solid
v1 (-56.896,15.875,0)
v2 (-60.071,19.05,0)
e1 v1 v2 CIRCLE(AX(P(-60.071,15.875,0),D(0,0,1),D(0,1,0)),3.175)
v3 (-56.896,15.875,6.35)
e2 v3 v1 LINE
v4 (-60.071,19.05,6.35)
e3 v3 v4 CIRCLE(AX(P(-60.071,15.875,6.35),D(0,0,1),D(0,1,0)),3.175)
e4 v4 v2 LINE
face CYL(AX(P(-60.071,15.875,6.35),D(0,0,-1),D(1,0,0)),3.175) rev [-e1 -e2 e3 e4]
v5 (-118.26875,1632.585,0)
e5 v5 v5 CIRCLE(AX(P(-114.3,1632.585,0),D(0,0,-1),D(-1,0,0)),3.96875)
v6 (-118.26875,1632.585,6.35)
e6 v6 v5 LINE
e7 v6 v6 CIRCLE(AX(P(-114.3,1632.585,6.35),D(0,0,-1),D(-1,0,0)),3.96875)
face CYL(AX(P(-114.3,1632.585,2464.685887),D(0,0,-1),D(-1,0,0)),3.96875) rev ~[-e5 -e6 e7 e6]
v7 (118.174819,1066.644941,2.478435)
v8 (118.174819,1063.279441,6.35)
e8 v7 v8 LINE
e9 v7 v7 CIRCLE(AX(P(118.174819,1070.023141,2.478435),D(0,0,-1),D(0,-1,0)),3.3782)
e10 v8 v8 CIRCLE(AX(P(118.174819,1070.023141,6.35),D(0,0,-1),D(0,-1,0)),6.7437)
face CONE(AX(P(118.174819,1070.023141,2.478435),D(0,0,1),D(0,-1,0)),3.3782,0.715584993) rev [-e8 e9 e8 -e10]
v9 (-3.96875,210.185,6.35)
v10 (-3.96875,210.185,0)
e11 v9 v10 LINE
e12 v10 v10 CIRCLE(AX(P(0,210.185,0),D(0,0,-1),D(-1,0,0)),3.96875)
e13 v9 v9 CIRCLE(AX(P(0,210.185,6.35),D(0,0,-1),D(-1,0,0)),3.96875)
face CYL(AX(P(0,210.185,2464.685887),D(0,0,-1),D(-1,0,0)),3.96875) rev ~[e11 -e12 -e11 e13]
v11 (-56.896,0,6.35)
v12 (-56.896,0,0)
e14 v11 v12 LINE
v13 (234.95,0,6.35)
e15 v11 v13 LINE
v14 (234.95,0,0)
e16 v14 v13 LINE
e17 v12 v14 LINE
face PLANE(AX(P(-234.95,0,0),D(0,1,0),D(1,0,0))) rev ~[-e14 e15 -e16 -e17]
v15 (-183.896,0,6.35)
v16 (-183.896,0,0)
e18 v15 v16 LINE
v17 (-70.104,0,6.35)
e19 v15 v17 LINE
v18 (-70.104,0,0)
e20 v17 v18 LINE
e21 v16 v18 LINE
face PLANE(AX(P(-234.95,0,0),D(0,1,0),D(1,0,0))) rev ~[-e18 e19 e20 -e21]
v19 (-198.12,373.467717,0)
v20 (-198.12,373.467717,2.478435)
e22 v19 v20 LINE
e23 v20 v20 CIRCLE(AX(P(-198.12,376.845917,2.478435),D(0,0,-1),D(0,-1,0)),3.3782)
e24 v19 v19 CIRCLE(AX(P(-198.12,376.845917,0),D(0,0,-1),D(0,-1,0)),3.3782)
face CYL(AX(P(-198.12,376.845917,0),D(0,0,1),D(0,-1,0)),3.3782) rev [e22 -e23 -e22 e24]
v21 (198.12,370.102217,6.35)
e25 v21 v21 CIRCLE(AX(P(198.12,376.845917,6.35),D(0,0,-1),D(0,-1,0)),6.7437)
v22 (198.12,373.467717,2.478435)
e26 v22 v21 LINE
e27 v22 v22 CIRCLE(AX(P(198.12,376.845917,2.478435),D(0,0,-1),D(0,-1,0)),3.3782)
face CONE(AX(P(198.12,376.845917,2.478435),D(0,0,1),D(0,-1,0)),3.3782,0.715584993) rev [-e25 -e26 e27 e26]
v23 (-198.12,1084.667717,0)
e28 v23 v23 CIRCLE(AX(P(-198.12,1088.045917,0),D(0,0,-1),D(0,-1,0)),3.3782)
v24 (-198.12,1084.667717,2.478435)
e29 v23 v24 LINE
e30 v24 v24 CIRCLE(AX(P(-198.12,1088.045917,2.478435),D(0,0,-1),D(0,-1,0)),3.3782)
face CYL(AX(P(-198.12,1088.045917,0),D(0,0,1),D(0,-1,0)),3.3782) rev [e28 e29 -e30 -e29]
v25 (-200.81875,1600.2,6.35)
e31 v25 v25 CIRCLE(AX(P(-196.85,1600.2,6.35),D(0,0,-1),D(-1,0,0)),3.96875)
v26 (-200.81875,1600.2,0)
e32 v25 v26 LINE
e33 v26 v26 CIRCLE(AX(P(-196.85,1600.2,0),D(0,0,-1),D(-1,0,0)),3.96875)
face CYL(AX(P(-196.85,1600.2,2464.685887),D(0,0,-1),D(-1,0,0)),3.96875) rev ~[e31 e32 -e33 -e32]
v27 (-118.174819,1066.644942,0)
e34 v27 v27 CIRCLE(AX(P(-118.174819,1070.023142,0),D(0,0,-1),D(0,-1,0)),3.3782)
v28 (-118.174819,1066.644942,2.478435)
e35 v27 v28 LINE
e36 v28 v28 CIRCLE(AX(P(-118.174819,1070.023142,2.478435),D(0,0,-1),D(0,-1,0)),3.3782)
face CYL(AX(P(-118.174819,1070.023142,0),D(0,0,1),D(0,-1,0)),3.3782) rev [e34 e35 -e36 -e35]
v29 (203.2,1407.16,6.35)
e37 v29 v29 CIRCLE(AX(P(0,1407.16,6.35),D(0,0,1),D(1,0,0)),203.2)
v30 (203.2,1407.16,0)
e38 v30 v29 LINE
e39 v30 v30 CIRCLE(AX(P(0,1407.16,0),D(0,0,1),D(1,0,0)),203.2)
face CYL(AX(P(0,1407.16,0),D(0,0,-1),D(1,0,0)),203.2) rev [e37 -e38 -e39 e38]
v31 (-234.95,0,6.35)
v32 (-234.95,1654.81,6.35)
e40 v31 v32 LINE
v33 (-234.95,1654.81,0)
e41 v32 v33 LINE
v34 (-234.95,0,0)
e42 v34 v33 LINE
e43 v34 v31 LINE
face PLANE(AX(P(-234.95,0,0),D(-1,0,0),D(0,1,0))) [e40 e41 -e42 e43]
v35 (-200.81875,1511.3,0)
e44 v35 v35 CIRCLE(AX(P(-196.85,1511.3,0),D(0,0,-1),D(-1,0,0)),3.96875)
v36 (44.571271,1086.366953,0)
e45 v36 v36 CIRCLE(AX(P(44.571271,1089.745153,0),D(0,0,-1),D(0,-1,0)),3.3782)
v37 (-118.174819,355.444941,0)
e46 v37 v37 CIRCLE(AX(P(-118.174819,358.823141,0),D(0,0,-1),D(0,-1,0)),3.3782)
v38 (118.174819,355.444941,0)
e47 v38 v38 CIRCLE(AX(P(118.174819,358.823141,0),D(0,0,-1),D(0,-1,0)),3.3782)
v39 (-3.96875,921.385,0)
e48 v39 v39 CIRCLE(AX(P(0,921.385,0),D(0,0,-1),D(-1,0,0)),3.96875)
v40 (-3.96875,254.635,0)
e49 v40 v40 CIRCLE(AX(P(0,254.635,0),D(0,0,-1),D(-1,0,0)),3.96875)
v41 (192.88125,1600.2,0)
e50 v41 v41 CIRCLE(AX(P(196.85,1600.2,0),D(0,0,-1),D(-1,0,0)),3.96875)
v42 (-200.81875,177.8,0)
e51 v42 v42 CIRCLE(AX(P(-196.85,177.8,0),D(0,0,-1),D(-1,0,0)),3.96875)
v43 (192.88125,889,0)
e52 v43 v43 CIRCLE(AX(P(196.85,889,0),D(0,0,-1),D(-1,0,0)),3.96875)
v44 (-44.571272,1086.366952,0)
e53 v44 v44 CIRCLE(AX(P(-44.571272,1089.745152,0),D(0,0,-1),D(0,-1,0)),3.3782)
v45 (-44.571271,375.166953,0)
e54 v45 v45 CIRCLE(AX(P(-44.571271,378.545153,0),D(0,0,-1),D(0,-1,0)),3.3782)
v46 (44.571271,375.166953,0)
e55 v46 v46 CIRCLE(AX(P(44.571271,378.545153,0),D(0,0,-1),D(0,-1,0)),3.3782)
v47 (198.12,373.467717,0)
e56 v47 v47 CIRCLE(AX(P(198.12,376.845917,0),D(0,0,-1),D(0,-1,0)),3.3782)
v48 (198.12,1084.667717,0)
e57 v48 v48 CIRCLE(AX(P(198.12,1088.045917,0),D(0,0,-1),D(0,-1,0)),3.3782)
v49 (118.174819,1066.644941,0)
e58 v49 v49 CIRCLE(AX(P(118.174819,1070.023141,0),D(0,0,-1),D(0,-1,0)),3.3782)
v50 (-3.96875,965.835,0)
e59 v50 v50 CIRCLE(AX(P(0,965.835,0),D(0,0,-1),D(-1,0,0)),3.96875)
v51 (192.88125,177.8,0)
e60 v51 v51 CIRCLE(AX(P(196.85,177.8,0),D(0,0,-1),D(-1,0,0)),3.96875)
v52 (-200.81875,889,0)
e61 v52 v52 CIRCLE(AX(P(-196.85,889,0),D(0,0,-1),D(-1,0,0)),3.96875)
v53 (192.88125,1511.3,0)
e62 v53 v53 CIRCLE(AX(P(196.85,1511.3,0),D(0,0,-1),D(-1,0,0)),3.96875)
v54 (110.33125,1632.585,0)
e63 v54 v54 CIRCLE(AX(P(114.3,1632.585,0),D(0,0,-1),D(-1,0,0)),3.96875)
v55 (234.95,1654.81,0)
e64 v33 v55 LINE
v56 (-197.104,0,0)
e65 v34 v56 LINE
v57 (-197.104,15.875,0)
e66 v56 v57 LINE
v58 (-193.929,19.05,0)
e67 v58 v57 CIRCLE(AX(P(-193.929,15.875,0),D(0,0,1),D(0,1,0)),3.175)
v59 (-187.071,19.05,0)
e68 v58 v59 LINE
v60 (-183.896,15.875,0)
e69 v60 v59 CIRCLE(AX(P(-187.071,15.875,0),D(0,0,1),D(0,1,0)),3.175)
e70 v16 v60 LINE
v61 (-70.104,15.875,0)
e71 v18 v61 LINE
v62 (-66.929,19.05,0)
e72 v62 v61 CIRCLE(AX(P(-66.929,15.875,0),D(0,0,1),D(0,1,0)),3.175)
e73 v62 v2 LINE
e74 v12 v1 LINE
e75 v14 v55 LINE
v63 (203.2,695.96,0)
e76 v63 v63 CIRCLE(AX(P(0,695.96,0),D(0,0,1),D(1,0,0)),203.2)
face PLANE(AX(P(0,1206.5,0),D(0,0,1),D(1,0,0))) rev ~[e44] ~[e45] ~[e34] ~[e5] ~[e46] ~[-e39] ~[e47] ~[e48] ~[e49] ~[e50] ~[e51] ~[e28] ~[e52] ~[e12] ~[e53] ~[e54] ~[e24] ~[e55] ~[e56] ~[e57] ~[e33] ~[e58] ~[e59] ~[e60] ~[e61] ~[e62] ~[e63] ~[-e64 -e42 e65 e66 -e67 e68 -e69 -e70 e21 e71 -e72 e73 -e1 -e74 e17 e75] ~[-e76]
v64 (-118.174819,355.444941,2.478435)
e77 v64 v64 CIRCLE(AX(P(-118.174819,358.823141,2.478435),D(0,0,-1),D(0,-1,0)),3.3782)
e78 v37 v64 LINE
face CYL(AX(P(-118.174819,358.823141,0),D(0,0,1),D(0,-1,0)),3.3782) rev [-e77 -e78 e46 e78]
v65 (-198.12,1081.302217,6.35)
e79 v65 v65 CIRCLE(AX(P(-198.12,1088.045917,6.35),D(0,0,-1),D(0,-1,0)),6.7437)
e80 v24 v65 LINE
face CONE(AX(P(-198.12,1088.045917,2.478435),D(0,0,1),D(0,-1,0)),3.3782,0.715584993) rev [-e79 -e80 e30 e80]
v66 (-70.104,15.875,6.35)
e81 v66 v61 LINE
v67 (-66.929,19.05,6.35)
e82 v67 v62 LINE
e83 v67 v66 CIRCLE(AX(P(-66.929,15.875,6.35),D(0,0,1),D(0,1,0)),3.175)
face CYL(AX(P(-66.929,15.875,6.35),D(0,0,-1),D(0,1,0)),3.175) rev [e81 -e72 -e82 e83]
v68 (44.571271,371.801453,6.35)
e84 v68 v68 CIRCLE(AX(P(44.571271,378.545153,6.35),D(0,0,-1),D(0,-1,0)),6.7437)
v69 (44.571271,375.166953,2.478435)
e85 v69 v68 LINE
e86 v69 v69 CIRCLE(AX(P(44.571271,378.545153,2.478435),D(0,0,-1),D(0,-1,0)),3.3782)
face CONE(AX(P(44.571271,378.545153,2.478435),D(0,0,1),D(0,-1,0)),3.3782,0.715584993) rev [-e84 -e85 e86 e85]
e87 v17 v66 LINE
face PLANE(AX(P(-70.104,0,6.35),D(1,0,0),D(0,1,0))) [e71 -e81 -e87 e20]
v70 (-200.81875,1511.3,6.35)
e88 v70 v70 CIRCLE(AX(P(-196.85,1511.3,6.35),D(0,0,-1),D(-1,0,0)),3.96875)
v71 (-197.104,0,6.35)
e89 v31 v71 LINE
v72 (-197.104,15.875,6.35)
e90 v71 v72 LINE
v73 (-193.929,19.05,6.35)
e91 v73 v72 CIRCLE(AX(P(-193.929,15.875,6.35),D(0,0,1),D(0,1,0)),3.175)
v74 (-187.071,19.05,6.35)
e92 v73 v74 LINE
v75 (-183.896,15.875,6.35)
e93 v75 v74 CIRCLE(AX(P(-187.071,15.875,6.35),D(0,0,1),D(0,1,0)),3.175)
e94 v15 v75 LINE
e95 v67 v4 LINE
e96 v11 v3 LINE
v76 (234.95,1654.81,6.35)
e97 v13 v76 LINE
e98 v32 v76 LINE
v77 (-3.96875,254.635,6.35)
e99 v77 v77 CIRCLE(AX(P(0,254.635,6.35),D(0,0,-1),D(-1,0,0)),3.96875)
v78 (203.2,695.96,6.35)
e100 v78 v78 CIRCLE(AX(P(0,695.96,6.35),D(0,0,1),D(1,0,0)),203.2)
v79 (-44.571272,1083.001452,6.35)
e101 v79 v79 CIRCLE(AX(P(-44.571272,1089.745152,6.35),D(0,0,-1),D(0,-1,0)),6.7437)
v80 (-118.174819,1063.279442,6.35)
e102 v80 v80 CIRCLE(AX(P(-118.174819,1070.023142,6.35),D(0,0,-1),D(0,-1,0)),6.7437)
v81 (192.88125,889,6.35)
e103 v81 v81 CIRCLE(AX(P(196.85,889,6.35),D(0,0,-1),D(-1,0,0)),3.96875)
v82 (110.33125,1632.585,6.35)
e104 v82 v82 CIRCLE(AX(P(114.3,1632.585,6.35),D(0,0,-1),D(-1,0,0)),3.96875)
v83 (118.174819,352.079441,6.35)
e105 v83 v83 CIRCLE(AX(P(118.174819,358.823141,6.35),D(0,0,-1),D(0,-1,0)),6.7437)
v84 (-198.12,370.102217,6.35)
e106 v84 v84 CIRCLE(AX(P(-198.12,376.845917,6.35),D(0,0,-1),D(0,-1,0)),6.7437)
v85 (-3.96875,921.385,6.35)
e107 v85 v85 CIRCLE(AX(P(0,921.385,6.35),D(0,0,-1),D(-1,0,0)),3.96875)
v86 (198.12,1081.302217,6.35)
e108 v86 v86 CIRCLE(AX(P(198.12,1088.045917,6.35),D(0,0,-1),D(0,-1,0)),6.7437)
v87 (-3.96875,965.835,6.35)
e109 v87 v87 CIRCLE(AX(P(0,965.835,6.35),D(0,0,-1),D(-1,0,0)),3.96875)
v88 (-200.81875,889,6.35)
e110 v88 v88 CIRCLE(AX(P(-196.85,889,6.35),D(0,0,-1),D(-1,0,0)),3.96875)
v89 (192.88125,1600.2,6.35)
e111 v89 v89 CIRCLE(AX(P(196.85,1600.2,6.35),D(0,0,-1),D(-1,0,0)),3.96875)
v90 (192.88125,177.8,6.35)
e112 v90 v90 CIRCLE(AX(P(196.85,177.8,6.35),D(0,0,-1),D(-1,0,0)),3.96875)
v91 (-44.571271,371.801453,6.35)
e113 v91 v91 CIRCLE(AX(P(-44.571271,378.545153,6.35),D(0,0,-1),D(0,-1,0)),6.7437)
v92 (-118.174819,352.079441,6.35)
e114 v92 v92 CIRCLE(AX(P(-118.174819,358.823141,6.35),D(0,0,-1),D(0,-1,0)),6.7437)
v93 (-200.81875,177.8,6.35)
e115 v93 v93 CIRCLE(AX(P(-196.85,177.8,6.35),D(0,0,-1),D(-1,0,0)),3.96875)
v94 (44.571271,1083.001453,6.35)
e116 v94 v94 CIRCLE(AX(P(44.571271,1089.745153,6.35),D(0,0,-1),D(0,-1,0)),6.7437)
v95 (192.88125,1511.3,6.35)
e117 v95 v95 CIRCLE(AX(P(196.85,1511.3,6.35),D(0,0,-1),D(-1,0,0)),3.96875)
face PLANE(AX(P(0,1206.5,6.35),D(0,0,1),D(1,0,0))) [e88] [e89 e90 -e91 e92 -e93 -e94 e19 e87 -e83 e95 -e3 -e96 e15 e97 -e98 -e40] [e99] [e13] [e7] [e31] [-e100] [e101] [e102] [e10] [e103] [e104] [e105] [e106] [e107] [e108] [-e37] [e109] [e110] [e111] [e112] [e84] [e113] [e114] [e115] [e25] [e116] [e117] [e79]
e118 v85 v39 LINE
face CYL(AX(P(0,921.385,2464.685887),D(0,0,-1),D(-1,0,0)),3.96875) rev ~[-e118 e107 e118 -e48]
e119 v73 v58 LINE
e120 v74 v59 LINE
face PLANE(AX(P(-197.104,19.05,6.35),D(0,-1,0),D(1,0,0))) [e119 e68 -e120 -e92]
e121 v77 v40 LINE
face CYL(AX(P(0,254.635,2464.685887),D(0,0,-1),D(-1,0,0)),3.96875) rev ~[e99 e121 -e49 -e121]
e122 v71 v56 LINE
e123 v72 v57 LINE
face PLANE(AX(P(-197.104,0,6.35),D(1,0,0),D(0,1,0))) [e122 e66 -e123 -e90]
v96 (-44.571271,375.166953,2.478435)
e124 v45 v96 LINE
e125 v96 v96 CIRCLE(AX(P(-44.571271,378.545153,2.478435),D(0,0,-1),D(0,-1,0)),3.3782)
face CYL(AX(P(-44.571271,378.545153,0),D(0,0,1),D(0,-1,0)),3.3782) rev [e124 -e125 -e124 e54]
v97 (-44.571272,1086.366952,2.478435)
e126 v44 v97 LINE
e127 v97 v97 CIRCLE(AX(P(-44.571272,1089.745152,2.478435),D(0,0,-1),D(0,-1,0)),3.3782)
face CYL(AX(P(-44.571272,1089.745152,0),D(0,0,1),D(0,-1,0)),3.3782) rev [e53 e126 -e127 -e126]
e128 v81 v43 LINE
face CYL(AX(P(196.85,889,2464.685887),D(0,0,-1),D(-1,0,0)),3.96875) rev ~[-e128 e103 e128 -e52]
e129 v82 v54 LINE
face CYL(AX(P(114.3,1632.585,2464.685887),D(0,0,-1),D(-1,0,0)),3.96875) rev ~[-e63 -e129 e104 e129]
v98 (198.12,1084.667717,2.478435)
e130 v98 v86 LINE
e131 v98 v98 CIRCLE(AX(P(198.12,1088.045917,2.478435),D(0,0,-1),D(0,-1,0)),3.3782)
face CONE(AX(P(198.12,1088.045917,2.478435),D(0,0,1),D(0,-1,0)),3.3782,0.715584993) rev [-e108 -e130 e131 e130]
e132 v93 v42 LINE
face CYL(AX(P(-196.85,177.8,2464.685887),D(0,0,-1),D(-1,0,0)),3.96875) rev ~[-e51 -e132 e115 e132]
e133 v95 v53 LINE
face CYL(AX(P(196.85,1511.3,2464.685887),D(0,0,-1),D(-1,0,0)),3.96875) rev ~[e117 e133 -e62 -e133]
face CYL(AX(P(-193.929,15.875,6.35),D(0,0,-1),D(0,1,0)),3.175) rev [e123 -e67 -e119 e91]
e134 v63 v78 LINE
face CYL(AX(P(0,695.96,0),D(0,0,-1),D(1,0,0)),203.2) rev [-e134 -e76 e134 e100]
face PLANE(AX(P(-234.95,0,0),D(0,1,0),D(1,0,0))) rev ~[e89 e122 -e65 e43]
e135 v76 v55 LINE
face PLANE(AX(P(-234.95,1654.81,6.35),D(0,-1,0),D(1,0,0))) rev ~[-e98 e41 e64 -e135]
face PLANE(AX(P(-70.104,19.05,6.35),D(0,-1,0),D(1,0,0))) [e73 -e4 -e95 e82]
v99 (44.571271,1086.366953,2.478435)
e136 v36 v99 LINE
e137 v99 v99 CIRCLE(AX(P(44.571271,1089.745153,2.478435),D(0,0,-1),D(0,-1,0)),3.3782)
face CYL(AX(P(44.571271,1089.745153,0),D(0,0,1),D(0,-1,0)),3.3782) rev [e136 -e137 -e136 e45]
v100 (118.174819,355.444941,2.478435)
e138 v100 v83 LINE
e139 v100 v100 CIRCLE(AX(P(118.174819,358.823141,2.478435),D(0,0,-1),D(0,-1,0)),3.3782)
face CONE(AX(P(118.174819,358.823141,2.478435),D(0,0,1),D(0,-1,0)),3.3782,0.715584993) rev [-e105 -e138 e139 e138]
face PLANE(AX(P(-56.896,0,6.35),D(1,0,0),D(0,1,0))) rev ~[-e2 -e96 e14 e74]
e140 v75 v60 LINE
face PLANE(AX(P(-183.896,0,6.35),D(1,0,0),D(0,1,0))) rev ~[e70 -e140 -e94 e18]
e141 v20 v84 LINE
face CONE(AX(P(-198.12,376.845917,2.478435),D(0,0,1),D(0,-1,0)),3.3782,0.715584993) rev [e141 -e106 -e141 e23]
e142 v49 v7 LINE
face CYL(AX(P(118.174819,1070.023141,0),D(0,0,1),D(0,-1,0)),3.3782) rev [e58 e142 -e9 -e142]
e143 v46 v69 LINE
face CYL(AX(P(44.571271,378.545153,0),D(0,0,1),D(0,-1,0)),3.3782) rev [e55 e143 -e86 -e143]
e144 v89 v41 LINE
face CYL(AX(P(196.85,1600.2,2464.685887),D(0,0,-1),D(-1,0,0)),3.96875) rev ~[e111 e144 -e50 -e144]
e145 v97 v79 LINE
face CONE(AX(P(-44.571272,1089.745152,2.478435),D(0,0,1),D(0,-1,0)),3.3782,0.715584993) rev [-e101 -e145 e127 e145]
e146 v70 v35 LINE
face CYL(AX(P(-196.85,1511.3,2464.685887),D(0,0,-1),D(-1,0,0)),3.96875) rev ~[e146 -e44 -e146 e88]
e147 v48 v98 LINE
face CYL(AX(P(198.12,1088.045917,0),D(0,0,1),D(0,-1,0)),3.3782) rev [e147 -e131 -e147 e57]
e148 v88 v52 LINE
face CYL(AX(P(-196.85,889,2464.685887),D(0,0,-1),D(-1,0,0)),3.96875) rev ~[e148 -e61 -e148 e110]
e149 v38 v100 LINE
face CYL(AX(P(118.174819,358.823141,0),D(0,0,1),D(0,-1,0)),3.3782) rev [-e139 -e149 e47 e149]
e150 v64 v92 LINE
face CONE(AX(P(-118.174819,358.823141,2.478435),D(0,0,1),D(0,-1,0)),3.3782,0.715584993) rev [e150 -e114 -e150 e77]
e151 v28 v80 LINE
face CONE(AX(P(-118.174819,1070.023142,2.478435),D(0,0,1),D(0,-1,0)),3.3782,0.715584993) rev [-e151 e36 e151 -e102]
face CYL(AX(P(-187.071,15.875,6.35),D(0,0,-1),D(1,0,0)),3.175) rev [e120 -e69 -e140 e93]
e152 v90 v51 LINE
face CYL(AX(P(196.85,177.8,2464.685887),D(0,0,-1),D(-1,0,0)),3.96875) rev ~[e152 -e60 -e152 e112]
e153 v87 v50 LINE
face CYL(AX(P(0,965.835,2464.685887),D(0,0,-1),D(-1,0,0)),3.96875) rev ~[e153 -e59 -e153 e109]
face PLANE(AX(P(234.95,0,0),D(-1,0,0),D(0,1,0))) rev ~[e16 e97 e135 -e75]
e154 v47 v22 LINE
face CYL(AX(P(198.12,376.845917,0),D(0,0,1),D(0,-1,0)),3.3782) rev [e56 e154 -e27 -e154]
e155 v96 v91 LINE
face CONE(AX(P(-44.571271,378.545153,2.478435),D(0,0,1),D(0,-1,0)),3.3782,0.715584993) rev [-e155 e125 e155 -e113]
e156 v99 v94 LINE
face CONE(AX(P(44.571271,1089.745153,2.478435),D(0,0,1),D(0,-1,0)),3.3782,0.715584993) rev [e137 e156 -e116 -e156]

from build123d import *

# Parameters (mm, degrees)
SKETCH1_W                                     = 469.9
SKETCH1_H                                     = 2413
SKETCH1_R                                     = 203.2
BOSS_EXTRUDE1_DEPTH                           = 6.35
CSK_FOR_1_4_FLAT_HEAD_SOCKET_CAP_SCR_2_COUNT  = 2
CSK_FOR_1_4_FLAT_HEAD_SOCKET_CAP_SCR_2_PITCH  = 76.2
CSK_FOR_1_4_FLAT_HEAD_SOCKET_CAP_SCR_3_COUNT  = 2
CSK_FOR_1_4_FLAT_HEAD_SOCKET_CAP_SCR_3_PITCH  = 89.142542345
CSK_FOR_1_4_FLAT_HEAD_SOCKET_CAP_SCR_4_COUNT  = 2
CSK_FOR_1_4_FLAT_HEAD_SOCKET_CAP_SCR_4_PITCH  = 163.936718394
CSK_FOR_1_4_FLAT_HEAD_SOCKET_CAP_SCR_5_COUNT  = 2
CSK_FOR_1_4_FLAT_HEAD_SOCKET_CAP_SCR_5_PITCH  = 711.2
CSK_FOR_1_4_FLAT_HEAD_SOCKET_CAP_SCR_6_COUNT  = 2
CSK_FOR_1_4_FLAT_HEAD_SOCKET_CAP_SCR_6_PITCH  = 695.384275934
CSK_FOR_1_4_FLAT_HEAD_SOCKET_CAP_SCR_7_COUNT  = 2
CSK_FOR_1_4_FLAT_HEAD_SOCKET_CAP_SCR_7_PITCH  = 716.764837904
CSK_FOR_1_4_FLAT_HEAD_SOCKET_CAP_SCR_8_COUNT  = 2
CSK_FOR_1_4_FLAT_HEAD_SOCKET_CAP_SCR_8_PITCH  = 710.371803251
CSK_FOR_1_4_FLAT_HEAD_SOCKET_CAP_SCR_9_COUNT  = 2
CSK_FOR_1_4_FLAT_HEAD_SOCKET_CAP_SCR_9_PITCH  = 1422.4
CSK_FOR_1_4_FLAT_HEAD_SOCKET_CAP_SCR_10_COUNT = 2
CSK_FOR_1_4_FLAT_HEAD_SOCKET_CAP_SCR_10_PITCH = 1404.60778242
CSK_FOR_1_4_FLAT_HEAD_SOCKET_CAP_SCR_11_COUNT = 2
CSK_FOR_1_4_FLAT_HEAD_SOCKET_CAP_SCR_11_PITCH = 1425.190567207
CSK_FOR_1_4_FLAT_HEAD_SOCKET_CAP_SCR_12_COUNT = 2
CSK_FOR_1_4_FLAT_HEAD_SOCKET_CAP_SCR_12_PITCH = 1412.087755797
CSK_FOR_1_4_FLAT_HEAD_SOCKET_CAP_SCR_13_COUNT = 2
CSK_FOR_1_4_FLAT_HEAD_SOCKET_CAP_SCR_13_PITCH = 153.55813077
CSK_FOR_1_4_FLAT_HEAD_SOCKET_CAP_SCR_14_COUNT = 2
CSK_FOR_1_4_FLAT_HEAD_SOCKET_CAP_SCR_14_PITCH = 242.697219812
CSK_FOR_1_4_FLAT_HEAD_SOCKET_CAP_SCR_15_COUNT = 2
CSK_FOR_1_4_FLAT_HEAD_SOCKET_CAP_SCR_15_PITCH = 749.86024568
CSK_FOR_1_4_FLAT_HEAD_SOCKET_CAP_SCR_16_COUNT = 2
CSK_FOR_1_4_FLAT_HEAD_SOCKET_CAP_SCR_16_PITCH = 1441.280581843
CSK_FOR_1_4_FLAT_HEAD_SOCKET_CAP_SCR_17_COUNT = 2
CSK_FOR_1_4_FLAT_HEAD_SOCKET_CAP_SCR_17_PITCH = 1428.974413563
CSK_FOR_1_4_FLAT_HEAD_SOCKET_CAP_SCR_18_COUNT = 2
CSK_FOR_1_4_FLAT_HEAD_SOCKET_CAP_SCR_18_PITCH = 725.925992834
F_5_16_0_3125_DIAMETER_HOLE1_D                = 7.9375
SKETCH6_W                                     = 469.9
SKETCH6_H                                     = 758.19
CUT_EXTRUDE1_DEPTH                            = 7.35
SKETCH8_W                                     = 13.208
SKETCH8_H                                     = 19.05
CUT_EXTRUDE2_DEPTH                            = 7.35
FILLET1_R                                     = 3.175


with BuildPart() as part:
    # Sketch1 → Boss-Extrude1 (new body)
    with BuildSketch(Plane.XY):
        with Locations((0, 1206.5)):
            Rectangle(SKETCH1_W, SKETCH1_H)
        with Locations((0, 695.96)):
            Circle(SKETCH1_R, mode=Mode.SUBTRACT)
        with Locations((0, 1407.16)):
            Circle(SKETCH1_R, mode=Mode.SUBTRACT)
        with Locations((0, 2118.36)):
            Circle(SKETCH1_R, mode=Mode.SUBTRACT)
    extrude(amount=BOSS_EXTRUDE1_DEPTH)

    # Sketch3 → CSK for 1/4 Flat Head Socket Cap Screw1 (revolve, cut)
    with BuildSketch(Plane(origin=(44.571271172, 378.545152647, 6.35), x_dir=(0, -1, 0), z_dir=(1, 0, 0))):
        Polygon((0, 0), (0, 6.35), (3.3782, 6.35), (3.3782, 3.871564875), (6.7437, 0), align=None)
    csk_for_1_4_flat_head_socket_cap_screw1 = revolve(axis=Axis((44.571271172, 378.545152647, 12.7), (0, 0, -1)), mode=Mode.SUBTRACT)

    # CSK for 1_4 Flat Head Socket Cap Scr 2: CSK for 1/4 Flat Head Socket Cap Screw1 ×2
    with Locations(*[Vector(0.965925826, -0.258819045, 0) * (i * CSK_FOR_1_4_FLAT_HEAD_SOCKET_CAP_SCR_2_PITCH) for i in range(1, CSK_FOR_1_4_FLAT_HEAD_SOCKET_CAP_SCR_2_COUNT)]):
        add(csk_for_1_4_flat_head_socket_cap_screw1, mode=Mode.SUBTRACT)

    # CSK for 1_4 Flat Head Socket Cap Scr 3: CSK for 1/4 Flat Head Socket Cap Screw1 ×2
    with Locations(*[(-i * CSK_FOR_1_4_FLAT_HEAD_SOCKET_CAP_SCR_3_PITCH, 0, 0) for i in range(1, CSK_FOR_1_4_FLAT_HEAD_SOCKET_CAP_SCR_3_COUNT)]):
        add(csk_for_1_4_flat_head_socket_cap_screw1, mode=Mode.SUBTRACT)

    # CSK for 1_4 Flat Head Socket Cap Scr 4: CSK for 1/4 Flat Head Socket Cap Screw1 ×2
    with Locations(*[Vector(-0.99273727, -0.120302586, 0) * (i * CSK_FOR_1_4_FLAT_HEAD_SOCKET_CAP_SCR_4_PITCH) for i in range(1, CSK_FOR_1_4_FLAT_HEAD_SOCKET_CAP_SCR_4_COUNT)]):
        add(csk_for_1_4_flat_head_socket_cap_screw1, mode=Mode.SUBTRACT)

    # CSK for 1_4 Flat Head Socket Cap Scr 5: CSK for 1/4 Flat Head Socket Cap Screw1 ×2
    with Locations(*[(0, i * CSK_FOR_1_4_FLAT_HEAD_SOCKET_CAP_SCR_5_PITCH, 0) for i in range(1, CSK_FOR_1_4_FLAT_HEAD_SOCKET_CAP_SCR_5_COUNT)]):
        add(csk_for_1_4_flat_head_socket_cap_screw1, mode=Mode.SUBTRACT)

    # CSK for 1_4 Flat Head Socket Cap Scr 6: CSK for 1/4 Flat Head Socket Cap Screw1 ×2
    with Locations(*[Vector(0.105845862, 0.994382549, 0) * (i * CSK_FOR_1_4_FLAT_HEAD_SOCKET_CAP_SCR_6_PITCH) for i in range(1, CSK_FOR_1_4_FLAT_HEAD_SOCKET_CAP_SCR_6_COUNT)]):
        add(csk_for_1_4_flat_head_socket_cap_screw1, mode=Mode.SUBTRACT)

    # CSK for 1_4 Flat Head Socket Cap Scr 7: CSK for 1/4 Flat Head Socket Cap Screw1 ×2
    with Locations(*[Vector(-0.124367907, 0.992236173, 0) * (i * CSK_FOR_1_4_FLAT_HEAD_SOCKET_CAP_SCR_7_PITCH) for i in range(1, CSK_FOR_1_4_FLAT_HEAD_SOCKET_CAP_SCR_7_COUNT)]):
        add(csk_for_1_4_flat_head_socket_cap_screw1, mode=Mode.SUBTRACT)

    # CSK for 1_4 Flat Head Socket Cap Scr 8: CSK for 1/4 Flat Head Socket Cap Screw1 ×2
    with Locations(*[Vector(-0.229099874, 0.973402922, 0) * (i * CSK_FOR_1_4_FLAT_HEAD_SOCKET_CAP_SCR_8_PITCH) for i in range(1, CSK_FOR_1_4_FLAT_HEAD_SOCKET_CAP_SCR_8_COUNT)]):
        add(csk_for_1_4_flat_head_socket_cap_screw1, mode=Mode.SUBTRACT)

    # CSK for 1_4 Flat Head Socket Cap Scr 9: CSK for 1/4 Flat Head Socket Cap Screw1 ×2
    with Locations(*[(0, i * CSK_FOR_1_4_FLAT_HEAD_SOCKET_CAP_SCR_9_PITCH, 0) for i in range(1, CSK_FOR_1_4_FLAT_HEAD_SOCKET_CAP_SCR_9_COUNT)]):
        add(csk_for_1_4_flat_head_socket_cap_screw1, mode=Mode.SUBTRACT)

    # CSK for 1_4 Flat Head Socket Cap Scr 10: CSK for 1/4 Flat Head Socket Cap Screw1 ×2
    with Locations(*[Vector(0.052401495, 0.998626098, 0) * (i * CSK_FOR_1_4_FLAT_HEAD_SOCKET_CAP_SCR_10_PITCH) for i in range(1, CSK_FOR_1_4_FLAT_HEAD_SOCKET_CAP_SCR_10_COUNT)]):
        add(csk_for_1_4_flat_head_socket_cap_screw1, mode=Mode.SUBTRACT)

    # CSK for 1_4 Flat Head Socket Cap Scr 11: CSK for 1/4 Flat Head Socket Cap Screw1 ×2
    with Locations(*[Vector(-0.062547805, 0.998041969, 0) * (i * CSK_FOR_1_4_FLAT_HEAD_SOCKET_CAP_SCR_11_PITCH) for i in range(1, CSK_FOR_1_4_FLAT_HEAD_SOCKET_CAP_SCR_11_COUNT)]):
        add(csk_for_1_4_flat_head_socket_cap_screw1, mode=Mode.SUBTRACT)

    # CSK for 1_4 Flat Head Socket Cap Scr 12: CSK for 1/4 Flat Head Socket Cap Screw1 ×2
    with Locations(*[Vector(-0.115252108, 0.993336273, 0) * (i * CSK_FOR_1_4_FLAT_HEAD_SOCKET_CAP_SCR_12_PITCH) for i in range(1, CSK_FOR_1_4_FLAT_HEAD_SOCKET_CAP_SCR_12_COUNT)]):
        add(csk_for_1_4_flat_head_socket_cap_screw1, mode=Mode.SUBTRACT)

    # CSK for 1_4 Flat Head Socket Cap Scr 13: CSK for 1/4 Flat Head Socket Cap Screw1 ×2
    with Locations(*[Vector(0.999938773, -0.011065747, 0) * (i * CSK_FOR_1_4_FLAT_HEAD_SOCKET_CAP_SCR_13_PITCH) for i in range(1, CSK_FOR_1_4_FLAT_HEAD_SOCKET_CAP_SCR_13_COUNT)]):
        add(csk_for_1_4_flat_head_socket_cap_screw1, mode=Mode.SUBTRACT)

    # CSK for 1_4 Flat Head Socket Cap Scr 14: CSK for 1/4 Flat Head Socket Cap Screw1 ×2
    with Locations(*[Vector(-0.999975489, -0.007001462, 0) * (i * CSK_FOR_1_4_FLAT_HEAD_SOCKET_CAP_SCR_14_PITCH) for i in range(1, CSK_FOR_1_4_FLAT_HEAD_SOCKET_CAP_SCR_14_COUNT)]):
        add(csk_for_1_4_flat_head_socket_cap_screw1, mode=Mode.SUBTRACT)

    # CSK for 1_4 Flat Head Socket Cap Scr 15: CSK for 1/4 Flat Head Socket Cap Screw1 ×2
    with Locations(*[Vector(-0.32364867, 0.946177329, 0) * (i * CSK_FOR_1_4_FLAT_HEAD_SOCKET_CAP_SCR_15_PITCH) for i in range(1, CSK_FOR_1_4_FLAT_HEAD_SOCKET_CAP_SCR_15_COUNT)]):
        add(csk_for_1_4_flat_head_socket_cap_screw1, mode=Mode.SUBTRACT)

    # CSK for 1_4 Flat Head Socket Cap Scr 16: CSK for 1/4 Flat Head Socket Cap Screw1 ×2
    with Locations(*[Vector(-0.168385861, 0.985721158, 0) * (i * CSK_FOR_1_4_FLAT_HEAD_SOCKET_CAP_SCR_16_PITCH) for i in range(1, CSK_FOR_1_4_FLAT_HEAD_SOCKET_CAP_SCR_16_COUNT)]):
        add(csk_for_1_4_flat_head_socket_cap_screw1, mode=Mode.SUBTRACT)

    # CSK for 1_4 Flat Head Socket Cap Scr 17: CSK for 1/4 Flat Head Socket Cap Screw1 ×2
    with Locations(*[Vector(0.107453799, 0.994210079, 0) * (i * CSK_FOR_1_4_FLAT_HEAD_SOCKET_CAP_SCR_17_PITCH) for i in range(1, CSK_FOR_1_4_FLAT_HEAD_SOCKET_CAP_SCR_17_COUNT)]):
        add(csk_for_1_4_flat_head_socket_cap_screw1, mode=Mode.SUBTRACT)

    # CSK for 1_4 Flat Head Socket Cap Scr 18: CSK for 1/4 Flat Head Socket Cap Screw1 ×2
    with Locations(*[Vector(0.211521189, 0.977373412, 0) * (i * CSK_FOR_1_4_FLAT_HEAD_SOCKET_CAP_SCR_18_PITCH) for i in range(1, CSK_FOR_1_4_FLAT_HEAD_SOCKET_CAP_SCR_18_COUNT)]):
        add(csk_for_1_4_flat_head_socket_cap_screw1, mode=Mode.SUBTRACT)

    # 5/16 (0.3125) Diameter Hole1 (through all)
    with Locations(Plane.XY.offset(6.35)):
        with Locations((0, 254.635), (0, 210.185), (-196.85, 177.8), (196.85, 177.8), (0, 965.835), (0, 921.385), (-196.85, 889), (196.85, 889), (-196.85, 1600.2), (196.85, 1600.2), (-114.3, 1632.585), (-114.3, 1677.035), (114.3, 1677.035), (114.3, 1632.585), (196.85, 1511.3), (-196.85, 1511.3)):
            Hole(F_5_16_0_3125_DIAMETER_HOLE1_D / 2)

    # Sketch6 → Cut-Extrude1 (cut, through all)
    with BuildSketch(Plane.XY.offset(6.35)):
        with Locations((0, 2033.905)):
            Rectangle(SKETCH6_W, SKETCH6_H)
    extrude(amount=-CUT_EXTRUDE1_DEPTH, mode=Mode.SUBTRACT)

    # Sketch8 → Cut-Extrude2 (cut, through all)
    with BuildSketch(Plane.XY.offset(6.35)):
        with Locations((-63.5, 9.525)):
            Rectangle(SKETCH8_W, SKETCH8_H)
        with Locations((-190.5, 9.525)):
            Rectangle(SKETCH8_W, SKETCH8_H)
    extrude(amount=-CUT_EXTRUDE2_DEPTH, mode=Mode.SUBTRACT)

    # Fillet1
    fillet1_edges = [part.edges().sort_by_distance(p)[0] for p in [
        (-70.104, 19.05, 3.175),
        (-56.896, 19.05, 3.175),
        (-197.104, 19.05, 3.175),
        (-183.896, 19.05, 3.175),
    ]]
    fillet(fillet1_edges, radius=FILLET1_R)


solid = part.part
